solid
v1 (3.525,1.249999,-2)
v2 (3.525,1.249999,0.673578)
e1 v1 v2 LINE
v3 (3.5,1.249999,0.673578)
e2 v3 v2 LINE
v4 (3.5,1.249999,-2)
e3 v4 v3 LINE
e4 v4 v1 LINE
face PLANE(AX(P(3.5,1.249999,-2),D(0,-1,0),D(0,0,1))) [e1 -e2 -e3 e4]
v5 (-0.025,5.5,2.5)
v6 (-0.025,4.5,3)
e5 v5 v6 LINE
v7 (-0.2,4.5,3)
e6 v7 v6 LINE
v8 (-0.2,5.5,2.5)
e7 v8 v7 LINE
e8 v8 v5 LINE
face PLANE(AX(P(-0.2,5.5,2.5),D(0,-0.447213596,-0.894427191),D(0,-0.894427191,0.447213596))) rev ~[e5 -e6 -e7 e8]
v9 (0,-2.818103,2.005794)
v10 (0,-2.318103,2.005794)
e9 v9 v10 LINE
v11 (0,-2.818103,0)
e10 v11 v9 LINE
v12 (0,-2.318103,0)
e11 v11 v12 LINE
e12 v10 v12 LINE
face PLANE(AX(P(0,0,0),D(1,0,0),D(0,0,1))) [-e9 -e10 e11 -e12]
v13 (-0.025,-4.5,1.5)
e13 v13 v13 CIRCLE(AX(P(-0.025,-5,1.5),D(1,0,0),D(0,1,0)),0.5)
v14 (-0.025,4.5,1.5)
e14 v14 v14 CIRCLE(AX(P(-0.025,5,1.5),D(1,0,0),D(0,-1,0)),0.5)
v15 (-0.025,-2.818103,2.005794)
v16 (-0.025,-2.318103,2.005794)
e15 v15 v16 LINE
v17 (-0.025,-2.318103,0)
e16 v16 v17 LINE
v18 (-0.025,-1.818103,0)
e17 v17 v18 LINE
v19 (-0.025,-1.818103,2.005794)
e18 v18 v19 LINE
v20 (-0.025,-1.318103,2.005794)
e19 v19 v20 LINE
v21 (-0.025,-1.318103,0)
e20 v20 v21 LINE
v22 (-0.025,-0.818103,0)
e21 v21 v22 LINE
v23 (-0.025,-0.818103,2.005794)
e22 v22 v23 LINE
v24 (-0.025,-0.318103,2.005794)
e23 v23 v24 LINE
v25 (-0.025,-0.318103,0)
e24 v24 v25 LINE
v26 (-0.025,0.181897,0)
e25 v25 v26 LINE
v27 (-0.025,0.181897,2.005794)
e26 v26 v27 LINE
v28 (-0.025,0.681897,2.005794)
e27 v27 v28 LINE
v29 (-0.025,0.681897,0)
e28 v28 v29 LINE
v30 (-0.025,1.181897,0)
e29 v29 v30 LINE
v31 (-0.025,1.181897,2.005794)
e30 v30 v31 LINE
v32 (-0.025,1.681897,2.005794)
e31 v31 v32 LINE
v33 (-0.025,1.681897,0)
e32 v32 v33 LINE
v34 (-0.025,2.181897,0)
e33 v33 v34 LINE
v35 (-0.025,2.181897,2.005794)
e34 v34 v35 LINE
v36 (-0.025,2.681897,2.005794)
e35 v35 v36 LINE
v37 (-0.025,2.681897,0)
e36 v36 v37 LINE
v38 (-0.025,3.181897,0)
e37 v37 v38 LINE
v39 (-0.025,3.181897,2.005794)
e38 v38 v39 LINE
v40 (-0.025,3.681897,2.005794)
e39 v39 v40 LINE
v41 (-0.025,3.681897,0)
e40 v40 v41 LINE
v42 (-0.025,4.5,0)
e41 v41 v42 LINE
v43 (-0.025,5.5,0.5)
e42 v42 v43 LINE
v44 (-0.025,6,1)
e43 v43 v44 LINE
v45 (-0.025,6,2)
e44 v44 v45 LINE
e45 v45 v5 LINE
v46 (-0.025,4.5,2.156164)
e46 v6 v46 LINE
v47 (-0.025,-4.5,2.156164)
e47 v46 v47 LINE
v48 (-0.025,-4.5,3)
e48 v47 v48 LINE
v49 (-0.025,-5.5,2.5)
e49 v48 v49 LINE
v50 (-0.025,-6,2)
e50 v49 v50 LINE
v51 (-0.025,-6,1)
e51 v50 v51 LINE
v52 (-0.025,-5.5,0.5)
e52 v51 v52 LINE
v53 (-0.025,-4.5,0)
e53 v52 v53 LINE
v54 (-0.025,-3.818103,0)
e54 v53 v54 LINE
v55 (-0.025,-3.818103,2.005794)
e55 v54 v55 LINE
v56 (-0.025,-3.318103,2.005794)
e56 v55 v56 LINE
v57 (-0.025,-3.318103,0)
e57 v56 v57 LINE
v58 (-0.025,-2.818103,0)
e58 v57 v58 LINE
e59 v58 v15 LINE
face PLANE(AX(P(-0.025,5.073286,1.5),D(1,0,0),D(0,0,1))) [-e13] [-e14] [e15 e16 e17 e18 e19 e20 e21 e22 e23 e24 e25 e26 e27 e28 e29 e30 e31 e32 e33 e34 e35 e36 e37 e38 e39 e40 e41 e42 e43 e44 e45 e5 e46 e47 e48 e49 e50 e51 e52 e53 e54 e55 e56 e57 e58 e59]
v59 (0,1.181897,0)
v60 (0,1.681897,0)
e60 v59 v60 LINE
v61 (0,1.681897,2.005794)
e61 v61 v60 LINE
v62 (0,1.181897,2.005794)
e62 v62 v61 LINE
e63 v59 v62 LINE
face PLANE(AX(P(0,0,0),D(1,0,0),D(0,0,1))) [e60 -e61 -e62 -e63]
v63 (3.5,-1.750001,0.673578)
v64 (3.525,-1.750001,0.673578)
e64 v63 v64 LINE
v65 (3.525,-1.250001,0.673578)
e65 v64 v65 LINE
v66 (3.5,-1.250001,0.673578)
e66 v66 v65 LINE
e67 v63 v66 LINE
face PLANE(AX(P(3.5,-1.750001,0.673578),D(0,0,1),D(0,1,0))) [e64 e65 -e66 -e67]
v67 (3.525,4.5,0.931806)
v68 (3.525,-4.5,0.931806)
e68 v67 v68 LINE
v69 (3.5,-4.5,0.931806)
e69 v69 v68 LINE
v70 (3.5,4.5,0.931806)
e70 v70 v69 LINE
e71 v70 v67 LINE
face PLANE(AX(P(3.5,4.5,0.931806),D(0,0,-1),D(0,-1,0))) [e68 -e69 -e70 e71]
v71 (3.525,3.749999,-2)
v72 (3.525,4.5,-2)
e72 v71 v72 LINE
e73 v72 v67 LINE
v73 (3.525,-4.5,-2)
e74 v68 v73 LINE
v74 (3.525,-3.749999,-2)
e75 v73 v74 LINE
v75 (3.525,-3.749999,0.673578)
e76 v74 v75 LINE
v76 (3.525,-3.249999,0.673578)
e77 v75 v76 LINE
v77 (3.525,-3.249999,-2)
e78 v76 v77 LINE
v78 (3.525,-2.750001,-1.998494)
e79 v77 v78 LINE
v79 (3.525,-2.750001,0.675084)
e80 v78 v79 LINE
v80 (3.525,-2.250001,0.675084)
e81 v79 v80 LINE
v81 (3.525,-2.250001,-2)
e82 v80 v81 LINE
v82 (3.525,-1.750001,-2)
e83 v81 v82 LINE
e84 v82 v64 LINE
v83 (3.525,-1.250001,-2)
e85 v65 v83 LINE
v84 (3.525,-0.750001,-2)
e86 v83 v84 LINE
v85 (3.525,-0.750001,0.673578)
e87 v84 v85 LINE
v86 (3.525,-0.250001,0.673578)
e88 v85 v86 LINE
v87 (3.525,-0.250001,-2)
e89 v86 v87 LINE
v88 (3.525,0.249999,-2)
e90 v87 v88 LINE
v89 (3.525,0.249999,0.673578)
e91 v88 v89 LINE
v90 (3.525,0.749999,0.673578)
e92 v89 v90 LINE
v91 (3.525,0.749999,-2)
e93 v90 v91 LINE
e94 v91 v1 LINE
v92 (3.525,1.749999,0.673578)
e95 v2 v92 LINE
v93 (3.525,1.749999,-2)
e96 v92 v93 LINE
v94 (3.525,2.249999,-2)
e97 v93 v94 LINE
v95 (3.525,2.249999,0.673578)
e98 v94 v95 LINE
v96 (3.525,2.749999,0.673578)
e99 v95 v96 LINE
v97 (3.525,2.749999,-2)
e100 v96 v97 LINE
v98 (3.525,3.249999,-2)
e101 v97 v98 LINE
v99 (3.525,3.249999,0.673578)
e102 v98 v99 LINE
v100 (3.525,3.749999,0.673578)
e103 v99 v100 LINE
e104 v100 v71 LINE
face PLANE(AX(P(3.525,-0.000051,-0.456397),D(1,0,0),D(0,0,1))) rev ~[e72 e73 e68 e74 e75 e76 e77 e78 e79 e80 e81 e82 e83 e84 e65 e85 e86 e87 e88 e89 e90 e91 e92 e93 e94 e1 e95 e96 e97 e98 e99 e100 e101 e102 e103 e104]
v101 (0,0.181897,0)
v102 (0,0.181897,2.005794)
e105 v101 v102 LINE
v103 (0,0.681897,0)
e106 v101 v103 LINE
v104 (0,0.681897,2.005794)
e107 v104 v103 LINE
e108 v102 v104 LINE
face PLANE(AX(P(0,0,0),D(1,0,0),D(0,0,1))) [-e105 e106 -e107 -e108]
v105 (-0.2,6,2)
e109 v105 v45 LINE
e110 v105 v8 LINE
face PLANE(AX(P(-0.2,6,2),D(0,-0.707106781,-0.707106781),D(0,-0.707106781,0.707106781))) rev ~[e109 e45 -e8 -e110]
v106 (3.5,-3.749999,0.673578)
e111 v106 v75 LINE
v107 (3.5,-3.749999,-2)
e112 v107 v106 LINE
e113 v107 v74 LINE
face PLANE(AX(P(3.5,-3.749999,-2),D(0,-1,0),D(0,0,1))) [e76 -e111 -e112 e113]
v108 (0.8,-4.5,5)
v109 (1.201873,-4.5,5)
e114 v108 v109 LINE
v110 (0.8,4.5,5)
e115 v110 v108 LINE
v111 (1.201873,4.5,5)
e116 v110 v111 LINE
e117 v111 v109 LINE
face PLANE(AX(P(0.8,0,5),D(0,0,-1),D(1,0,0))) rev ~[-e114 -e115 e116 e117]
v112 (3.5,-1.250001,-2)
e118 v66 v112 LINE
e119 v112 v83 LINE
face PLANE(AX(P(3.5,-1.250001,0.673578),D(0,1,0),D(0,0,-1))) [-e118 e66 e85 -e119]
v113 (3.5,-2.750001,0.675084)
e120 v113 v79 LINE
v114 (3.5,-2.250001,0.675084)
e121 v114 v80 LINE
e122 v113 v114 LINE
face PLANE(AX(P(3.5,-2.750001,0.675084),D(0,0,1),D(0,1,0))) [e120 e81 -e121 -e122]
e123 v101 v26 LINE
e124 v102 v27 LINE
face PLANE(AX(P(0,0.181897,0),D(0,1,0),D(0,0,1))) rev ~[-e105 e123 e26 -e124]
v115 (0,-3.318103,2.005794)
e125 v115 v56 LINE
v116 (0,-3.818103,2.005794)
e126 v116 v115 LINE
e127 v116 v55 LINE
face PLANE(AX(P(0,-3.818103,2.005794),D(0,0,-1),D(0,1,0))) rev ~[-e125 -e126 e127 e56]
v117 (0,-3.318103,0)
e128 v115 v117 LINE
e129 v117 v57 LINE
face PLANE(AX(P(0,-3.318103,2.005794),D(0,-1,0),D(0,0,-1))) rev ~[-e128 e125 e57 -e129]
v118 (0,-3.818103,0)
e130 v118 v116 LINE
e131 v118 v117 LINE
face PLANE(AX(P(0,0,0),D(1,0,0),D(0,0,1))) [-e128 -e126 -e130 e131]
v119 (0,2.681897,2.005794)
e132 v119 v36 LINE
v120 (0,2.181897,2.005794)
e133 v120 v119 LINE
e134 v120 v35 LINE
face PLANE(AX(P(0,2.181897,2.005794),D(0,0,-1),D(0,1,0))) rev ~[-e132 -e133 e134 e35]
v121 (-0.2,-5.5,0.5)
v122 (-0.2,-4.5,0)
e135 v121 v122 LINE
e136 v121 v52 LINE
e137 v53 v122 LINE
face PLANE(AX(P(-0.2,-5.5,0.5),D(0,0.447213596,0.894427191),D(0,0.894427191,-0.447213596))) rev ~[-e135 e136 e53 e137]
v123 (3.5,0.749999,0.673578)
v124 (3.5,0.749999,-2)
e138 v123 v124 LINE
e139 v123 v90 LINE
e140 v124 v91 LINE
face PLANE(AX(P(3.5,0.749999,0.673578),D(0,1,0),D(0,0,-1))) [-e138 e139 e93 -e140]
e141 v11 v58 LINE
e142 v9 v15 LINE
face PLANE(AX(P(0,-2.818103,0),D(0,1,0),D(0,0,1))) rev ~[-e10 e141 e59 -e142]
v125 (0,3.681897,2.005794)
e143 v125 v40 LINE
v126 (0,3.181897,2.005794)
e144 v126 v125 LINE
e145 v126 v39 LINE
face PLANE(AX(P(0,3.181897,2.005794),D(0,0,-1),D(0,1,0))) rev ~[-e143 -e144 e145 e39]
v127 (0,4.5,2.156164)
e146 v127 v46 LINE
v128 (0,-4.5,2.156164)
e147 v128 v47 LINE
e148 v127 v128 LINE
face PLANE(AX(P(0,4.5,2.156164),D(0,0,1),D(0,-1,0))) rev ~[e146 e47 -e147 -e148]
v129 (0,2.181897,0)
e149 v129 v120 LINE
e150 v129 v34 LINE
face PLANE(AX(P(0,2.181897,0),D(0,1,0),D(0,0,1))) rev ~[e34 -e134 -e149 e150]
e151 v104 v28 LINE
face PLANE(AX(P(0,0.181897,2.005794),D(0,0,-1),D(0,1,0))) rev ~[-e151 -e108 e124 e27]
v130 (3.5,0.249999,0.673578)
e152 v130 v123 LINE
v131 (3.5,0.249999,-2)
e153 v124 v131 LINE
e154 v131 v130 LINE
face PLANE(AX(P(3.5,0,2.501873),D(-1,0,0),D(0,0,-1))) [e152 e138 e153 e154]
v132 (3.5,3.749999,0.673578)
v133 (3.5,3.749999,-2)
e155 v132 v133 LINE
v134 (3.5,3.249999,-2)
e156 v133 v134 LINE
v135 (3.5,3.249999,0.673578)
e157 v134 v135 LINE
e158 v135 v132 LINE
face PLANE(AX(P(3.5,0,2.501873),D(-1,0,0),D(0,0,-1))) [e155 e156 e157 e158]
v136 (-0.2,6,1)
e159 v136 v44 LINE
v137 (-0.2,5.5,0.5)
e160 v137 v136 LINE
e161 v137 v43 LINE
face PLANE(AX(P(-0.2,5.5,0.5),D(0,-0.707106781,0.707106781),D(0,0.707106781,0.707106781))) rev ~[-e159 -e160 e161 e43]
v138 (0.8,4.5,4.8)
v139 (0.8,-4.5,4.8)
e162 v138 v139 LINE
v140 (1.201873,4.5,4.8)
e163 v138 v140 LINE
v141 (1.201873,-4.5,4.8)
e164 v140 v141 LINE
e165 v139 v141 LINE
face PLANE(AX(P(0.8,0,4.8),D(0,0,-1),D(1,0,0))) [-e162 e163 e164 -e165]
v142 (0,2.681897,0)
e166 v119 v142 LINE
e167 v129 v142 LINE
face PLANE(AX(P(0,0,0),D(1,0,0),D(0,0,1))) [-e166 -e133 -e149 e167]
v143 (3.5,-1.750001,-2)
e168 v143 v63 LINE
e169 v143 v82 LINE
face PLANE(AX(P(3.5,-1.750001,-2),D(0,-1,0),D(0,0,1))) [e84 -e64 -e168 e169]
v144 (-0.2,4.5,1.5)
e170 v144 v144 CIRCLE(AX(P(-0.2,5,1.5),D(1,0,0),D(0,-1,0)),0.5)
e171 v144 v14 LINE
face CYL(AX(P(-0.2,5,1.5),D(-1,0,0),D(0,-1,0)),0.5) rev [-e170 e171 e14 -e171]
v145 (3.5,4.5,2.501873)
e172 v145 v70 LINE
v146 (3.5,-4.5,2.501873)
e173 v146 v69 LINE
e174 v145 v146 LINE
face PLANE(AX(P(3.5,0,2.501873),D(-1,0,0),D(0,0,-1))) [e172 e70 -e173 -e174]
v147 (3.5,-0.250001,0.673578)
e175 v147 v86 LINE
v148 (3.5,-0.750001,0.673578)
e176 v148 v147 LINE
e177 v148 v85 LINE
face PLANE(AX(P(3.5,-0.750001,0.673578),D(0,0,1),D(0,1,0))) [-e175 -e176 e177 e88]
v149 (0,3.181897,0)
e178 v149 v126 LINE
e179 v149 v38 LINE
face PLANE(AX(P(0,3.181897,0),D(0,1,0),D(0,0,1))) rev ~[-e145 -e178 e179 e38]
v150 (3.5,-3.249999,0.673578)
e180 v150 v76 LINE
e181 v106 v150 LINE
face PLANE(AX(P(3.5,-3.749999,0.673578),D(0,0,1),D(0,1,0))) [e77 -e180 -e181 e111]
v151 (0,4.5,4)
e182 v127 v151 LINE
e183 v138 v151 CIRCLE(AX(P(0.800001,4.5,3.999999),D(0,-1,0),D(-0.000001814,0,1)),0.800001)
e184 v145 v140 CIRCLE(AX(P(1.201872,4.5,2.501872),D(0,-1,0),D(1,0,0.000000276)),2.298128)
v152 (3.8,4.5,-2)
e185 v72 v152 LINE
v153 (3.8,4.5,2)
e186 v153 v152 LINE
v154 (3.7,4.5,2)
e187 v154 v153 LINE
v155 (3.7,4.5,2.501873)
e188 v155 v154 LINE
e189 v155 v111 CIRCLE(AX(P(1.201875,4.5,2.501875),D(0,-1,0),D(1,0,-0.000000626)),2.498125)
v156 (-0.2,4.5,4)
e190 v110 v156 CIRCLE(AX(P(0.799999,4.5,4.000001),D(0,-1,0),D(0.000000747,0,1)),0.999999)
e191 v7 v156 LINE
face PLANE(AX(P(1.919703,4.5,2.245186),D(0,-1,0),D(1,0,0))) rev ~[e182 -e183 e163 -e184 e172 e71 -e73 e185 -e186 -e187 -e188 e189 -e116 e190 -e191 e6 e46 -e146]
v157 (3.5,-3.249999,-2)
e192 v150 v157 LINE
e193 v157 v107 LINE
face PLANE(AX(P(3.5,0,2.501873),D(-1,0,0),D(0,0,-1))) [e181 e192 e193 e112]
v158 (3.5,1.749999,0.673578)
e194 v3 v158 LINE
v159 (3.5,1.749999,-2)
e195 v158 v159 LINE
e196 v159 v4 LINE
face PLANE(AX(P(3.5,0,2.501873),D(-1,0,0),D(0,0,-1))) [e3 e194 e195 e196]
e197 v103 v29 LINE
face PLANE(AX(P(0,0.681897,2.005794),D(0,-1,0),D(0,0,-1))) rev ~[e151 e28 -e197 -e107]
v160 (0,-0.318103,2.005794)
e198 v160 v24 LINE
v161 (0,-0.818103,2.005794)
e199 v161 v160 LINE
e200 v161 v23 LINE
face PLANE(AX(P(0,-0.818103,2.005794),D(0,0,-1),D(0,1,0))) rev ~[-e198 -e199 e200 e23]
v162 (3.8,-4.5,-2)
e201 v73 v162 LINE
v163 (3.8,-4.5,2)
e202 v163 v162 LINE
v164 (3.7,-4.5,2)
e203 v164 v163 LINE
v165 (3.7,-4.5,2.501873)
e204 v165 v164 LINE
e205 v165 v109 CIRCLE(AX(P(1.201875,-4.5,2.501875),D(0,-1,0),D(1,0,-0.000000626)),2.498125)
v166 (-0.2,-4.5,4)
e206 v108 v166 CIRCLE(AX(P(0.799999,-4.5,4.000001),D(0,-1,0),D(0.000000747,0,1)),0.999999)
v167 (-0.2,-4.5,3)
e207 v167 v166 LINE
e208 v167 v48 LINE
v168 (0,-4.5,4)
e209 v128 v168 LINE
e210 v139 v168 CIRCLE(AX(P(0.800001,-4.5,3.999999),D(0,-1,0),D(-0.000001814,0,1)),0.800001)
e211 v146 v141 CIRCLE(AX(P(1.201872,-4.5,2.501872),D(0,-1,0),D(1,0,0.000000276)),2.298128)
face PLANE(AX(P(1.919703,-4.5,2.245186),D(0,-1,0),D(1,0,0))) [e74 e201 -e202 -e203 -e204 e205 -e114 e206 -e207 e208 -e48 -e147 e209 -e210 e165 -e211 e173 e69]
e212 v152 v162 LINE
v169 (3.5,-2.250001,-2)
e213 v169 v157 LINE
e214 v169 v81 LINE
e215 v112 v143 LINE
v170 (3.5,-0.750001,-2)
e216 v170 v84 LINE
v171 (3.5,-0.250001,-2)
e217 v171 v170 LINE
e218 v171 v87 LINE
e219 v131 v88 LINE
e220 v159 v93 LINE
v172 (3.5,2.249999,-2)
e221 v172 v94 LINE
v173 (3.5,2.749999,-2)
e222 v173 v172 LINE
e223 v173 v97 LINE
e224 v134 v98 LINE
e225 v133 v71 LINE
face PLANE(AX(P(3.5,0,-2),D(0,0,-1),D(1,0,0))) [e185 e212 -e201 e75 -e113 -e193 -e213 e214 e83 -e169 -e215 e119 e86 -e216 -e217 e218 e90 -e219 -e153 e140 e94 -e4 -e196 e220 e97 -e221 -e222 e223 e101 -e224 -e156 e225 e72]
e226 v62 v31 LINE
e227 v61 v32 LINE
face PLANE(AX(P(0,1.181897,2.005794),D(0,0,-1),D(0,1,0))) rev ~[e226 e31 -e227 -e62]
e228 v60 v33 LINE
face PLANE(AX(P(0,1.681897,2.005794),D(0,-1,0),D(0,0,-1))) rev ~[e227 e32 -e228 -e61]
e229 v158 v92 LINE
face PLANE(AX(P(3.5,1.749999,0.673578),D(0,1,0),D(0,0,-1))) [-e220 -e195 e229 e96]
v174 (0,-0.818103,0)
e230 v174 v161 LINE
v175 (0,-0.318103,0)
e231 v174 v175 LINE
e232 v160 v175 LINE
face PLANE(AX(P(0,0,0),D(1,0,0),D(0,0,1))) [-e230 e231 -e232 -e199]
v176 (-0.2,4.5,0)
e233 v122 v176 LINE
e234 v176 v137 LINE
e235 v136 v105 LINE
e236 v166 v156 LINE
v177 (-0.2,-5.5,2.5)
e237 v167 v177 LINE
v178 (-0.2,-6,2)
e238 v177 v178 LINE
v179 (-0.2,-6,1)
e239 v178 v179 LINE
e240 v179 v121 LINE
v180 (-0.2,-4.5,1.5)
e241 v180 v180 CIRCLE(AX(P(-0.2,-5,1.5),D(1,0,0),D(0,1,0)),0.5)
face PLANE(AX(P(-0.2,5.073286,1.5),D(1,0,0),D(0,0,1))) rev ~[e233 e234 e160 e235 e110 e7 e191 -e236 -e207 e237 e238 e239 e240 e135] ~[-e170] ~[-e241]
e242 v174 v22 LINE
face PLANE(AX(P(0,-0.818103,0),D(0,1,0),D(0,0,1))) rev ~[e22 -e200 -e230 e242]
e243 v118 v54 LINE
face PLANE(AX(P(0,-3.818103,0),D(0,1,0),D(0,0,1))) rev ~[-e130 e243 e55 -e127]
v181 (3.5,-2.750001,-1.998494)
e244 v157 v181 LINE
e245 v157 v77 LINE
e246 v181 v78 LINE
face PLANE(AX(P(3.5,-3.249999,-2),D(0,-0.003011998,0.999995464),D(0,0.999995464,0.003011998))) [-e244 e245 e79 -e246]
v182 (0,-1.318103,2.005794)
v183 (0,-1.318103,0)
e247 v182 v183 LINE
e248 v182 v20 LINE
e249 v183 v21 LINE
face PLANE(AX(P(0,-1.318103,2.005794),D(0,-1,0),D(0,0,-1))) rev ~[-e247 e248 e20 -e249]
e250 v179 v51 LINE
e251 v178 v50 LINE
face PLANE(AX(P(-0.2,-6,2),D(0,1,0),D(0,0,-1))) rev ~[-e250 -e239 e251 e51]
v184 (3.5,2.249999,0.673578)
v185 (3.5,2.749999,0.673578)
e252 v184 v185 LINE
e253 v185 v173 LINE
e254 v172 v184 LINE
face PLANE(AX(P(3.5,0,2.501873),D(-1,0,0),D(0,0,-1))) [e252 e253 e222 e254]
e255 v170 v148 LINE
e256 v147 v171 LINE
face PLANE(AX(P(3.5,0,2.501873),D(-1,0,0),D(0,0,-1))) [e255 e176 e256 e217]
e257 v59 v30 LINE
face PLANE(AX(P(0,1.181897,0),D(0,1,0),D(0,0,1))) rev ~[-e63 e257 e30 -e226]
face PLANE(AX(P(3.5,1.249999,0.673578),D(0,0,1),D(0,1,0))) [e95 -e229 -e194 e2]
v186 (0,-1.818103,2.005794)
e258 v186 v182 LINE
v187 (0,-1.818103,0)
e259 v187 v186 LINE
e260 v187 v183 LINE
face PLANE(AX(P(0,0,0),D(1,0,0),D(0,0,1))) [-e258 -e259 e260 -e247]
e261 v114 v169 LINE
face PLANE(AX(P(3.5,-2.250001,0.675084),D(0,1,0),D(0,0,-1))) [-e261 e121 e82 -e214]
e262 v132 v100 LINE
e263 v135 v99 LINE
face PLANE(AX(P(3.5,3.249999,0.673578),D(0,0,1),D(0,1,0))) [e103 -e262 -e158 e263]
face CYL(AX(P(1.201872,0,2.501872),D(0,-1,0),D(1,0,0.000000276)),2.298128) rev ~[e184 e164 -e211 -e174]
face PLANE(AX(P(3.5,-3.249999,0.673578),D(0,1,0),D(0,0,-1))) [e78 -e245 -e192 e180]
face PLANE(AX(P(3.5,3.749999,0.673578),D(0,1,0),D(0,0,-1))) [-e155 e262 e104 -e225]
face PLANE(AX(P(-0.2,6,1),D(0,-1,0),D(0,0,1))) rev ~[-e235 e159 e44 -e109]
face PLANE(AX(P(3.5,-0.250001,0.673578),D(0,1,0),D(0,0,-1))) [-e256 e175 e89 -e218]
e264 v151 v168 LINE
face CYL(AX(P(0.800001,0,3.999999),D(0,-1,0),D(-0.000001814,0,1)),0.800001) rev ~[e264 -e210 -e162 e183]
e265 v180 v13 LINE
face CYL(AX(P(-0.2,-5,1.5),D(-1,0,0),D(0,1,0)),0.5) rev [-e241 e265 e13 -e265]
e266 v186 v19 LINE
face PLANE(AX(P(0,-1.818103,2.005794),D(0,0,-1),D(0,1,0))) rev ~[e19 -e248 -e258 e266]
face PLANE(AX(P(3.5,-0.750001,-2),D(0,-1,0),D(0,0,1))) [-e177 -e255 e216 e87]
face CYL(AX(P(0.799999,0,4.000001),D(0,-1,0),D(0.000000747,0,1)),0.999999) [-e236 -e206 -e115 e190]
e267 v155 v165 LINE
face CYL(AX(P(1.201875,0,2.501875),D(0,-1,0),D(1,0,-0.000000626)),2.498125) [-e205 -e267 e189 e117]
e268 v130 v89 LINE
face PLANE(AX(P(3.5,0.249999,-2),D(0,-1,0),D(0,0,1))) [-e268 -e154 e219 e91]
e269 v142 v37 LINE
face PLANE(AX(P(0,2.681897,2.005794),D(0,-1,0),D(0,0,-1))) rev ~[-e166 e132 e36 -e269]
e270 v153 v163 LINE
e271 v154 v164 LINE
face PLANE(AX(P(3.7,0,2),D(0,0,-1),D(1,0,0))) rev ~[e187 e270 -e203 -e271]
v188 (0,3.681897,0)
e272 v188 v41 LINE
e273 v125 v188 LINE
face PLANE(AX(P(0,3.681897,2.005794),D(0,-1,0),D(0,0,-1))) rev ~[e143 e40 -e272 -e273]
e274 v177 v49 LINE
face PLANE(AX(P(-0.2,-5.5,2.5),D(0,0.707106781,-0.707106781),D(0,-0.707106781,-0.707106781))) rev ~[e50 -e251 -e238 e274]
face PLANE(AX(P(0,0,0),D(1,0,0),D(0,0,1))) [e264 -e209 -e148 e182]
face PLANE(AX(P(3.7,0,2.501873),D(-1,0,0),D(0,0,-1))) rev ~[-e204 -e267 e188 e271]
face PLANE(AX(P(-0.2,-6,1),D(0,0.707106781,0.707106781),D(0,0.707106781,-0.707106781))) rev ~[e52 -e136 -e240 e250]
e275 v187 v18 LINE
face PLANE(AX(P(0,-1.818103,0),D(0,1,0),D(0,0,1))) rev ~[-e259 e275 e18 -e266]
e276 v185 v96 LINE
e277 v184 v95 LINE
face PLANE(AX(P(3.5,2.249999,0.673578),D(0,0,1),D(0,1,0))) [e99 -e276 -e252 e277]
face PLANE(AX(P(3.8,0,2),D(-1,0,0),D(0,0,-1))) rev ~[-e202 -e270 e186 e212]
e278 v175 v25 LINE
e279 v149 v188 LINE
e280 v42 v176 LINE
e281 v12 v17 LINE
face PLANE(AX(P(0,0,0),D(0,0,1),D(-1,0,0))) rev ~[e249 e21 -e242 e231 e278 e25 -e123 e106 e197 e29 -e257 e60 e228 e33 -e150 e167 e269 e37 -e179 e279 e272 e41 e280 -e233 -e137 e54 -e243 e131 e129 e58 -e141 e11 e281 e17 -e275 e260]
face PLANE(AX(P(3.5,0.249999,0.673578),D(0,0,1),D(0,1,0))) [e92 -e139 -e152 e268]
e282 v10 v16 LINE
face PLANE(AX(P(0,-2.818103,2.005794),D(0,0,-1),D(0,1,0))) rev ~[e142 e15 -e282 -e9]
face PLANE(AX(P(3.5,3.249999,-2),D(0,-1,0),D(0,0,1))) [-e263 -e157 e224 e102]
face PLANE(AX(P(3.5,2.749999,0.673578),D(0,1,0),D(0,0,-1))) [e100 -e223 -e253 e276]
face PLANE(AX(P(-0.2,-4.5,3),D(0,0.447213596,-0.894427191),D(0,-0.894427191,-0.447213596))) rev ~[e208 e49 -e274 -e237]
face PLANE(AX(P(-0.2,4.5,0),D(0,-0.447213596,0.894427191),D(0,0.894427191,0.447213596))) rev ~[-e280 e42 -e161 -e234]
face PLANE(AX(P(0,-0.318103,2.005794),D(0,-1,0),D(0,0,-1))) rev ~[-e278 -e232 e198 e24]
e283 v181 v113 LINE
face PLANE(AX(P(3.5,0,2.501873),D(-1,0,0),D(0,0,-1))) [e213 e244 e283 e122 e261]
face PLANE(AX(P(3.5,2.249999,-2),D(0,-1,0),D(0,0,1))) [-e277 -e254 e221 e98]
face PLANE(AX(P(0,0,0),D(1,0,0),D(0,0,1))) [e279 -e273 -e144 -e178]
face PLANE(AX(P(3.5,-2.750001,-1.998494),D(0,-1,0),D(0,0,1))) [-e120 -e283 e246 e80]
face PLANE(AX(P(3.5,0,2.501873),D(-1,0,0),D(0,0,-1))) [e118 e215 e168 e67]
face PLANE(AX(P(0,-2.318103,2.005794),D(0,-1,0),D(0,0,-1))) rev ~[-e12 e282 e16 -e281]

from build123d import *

# Parameters (mm, degrees)
PAD_DEPTH       = 4.5
POCKET_DEPTH    = 0.025
POCKET001_DEPTH = 0.025
SKETCH003_R     = 0.5
PAD001_DEPTH    = 0.175


with BuildPart() as part:
    # Sketch → Pad (new body, symmetric)
    with BuildSketch(Plane.XZ):
        with BuildLine():
            Line((0, 0), (0, 4))
            ThreePointArc((0.8, 4.8), (0.234315, 4.565685), (0, 4))
            Line((0.8, 4.8), (1.201873, 4.8))
            ThreePointArc((3.5, 2.501873), (2.826894, 4.126894), (1.201873, 4.8))
            Line((3.5, 2.501873), (3.5, -2))
            Line((3.5, -2), (3.8, -2))
            Line((3.8, 2), (3.8, -2))
            Line((3.7, 2), (3.8, 2))
            Line((3.7, 2.501873), (3.7, 2))
            ThreePointArc((3.7, 2.501873), (2.968316, 4.268316), (1.201873, 5))
            Line((0.8, 5), (1.201873, 5))
            ThreePointArc((0.8, 5), (0.092893, 4.707107), (-0.2, 4))
            Line((-0.2, 0), (-0.2, 4))
            Line((0, 0), (-0.2, 0))
        make_face()
    extrude(amount=PAD_DEPTH, both=True)

    # Sketch001 (on Face1 of Pad) → Pocket (cut)
    with BuildSketch(Plane(origin=(0, 0, 0), x_dir=(0, 0, 1), z_dir=(1, 0, 0))):
        Polygon((0, 3.818103), (2.005794, 3.818103), (2.005794, 3.318103), (0, 3.318103), (0, 2.818103), (2.005794, 2.818103), (2.005794, 2.318103), (0, 2.318103), (0, 1.818103), (2.005794, 1.818103), (2.005794, 1.318103), (0, 1.318103), (0, 0.818103), (2.005794, 0.818103), (2.005794, 0.318103), (0, 0.318103), (0, -0.181897), (2.005794, -0.181897), (2.005794, -0.681897), (0, -0.681897), (0, -1.181897), (2.005794, -1.181897), (2.005794, -1.681897), (0, -1.681897), (0, -2.181897), (2.005794, -2.181897), (2.005794, -2.681897), (0, -2.681897), (0, -3.181897), (2.005794, -3.181897), (2.005794, -3.681897), (0, -3.681897), (0, -4.5), (2.156164, -4.5), (2.156164, 4.5), (0, 4.5), align=None)
    extrude(amount=-POCKET_DEPTH, mode=Mode.SUBTRACT)

    # Sketch002 (on Face16 of Pocket) → Pocket001 (cut)
    with BuildSketch(Plane(origin=(3.5, 0, 0), x_dir=(0, 0, -1), z_dir=(-1, 0, 0))):
        Polygon((2, 3.749999), (-0.673578, 3.749999), (-0.673578, 3.249999), (2, 3.249999), (1.998494, 2.750001), (-0.675084, 2.750001), (-0.675084, 2.250001), (2, 2.250001), (2, 1.750001), (-0.673578, 1.750001), (-0.673578, 1.250001), (2, 1.250001), (2, 0.750001), (-0.673578, 0.750001), (-0.673578, 0.250001), (2, 0.250001), (2, -0.249999), (-0.673578, -0.249999), (-0.673578, -0.749999), (2, -0.749999), (2, -1.249999), (-0.673578, -1.249999), (-0.673578, -1.749999), (2, -1.749999), (2, -2.249999), (-0.673578, -2.249999), (-0.673578, -2.749999), (2, -2.749999), (2, -3.249999), (-0.673578, -3.249999), (-0.673578, -3.749999), (2, -3.749999), (2, -4.5), (-0.931806, -4.5), (-0.931806, 4.5), (2, 4.5), align=None)
    extrude(amount=-POCKET001_DEPTH, mode=Mode.SUBTRACT)

    # Sketch003 (on Face8 of Pocket001) → Pad001 (join)
    with BuildSketch(Plane(origin=(-0.2, 0, 0), x_dir=(0, 0, -1), z_dir=(-1, 0, 0))):
        Polygon((0, -4.5), (-0.5, -5.5), (-1, -6), (-2, -6), (-2.5, -5.5), (-3, -4.5), align=None)
        with Locations((-1.5, -5)):
            Circle(SKETCH003_R, mode=Mode.SUBTRACT)
        Polygon((0, 4.5), (-3, 4.5), (-2.5, 5.5), (-2, 6), (-1, 6), (-0.5, 5.5), align=None)
        with Locations((-1.5, 5)):
            Circle(SKETCH003_R, mode=Mode.SUBTRACT)
    extrude(amount=-PAD001_DEPTH)


solid = part.part
